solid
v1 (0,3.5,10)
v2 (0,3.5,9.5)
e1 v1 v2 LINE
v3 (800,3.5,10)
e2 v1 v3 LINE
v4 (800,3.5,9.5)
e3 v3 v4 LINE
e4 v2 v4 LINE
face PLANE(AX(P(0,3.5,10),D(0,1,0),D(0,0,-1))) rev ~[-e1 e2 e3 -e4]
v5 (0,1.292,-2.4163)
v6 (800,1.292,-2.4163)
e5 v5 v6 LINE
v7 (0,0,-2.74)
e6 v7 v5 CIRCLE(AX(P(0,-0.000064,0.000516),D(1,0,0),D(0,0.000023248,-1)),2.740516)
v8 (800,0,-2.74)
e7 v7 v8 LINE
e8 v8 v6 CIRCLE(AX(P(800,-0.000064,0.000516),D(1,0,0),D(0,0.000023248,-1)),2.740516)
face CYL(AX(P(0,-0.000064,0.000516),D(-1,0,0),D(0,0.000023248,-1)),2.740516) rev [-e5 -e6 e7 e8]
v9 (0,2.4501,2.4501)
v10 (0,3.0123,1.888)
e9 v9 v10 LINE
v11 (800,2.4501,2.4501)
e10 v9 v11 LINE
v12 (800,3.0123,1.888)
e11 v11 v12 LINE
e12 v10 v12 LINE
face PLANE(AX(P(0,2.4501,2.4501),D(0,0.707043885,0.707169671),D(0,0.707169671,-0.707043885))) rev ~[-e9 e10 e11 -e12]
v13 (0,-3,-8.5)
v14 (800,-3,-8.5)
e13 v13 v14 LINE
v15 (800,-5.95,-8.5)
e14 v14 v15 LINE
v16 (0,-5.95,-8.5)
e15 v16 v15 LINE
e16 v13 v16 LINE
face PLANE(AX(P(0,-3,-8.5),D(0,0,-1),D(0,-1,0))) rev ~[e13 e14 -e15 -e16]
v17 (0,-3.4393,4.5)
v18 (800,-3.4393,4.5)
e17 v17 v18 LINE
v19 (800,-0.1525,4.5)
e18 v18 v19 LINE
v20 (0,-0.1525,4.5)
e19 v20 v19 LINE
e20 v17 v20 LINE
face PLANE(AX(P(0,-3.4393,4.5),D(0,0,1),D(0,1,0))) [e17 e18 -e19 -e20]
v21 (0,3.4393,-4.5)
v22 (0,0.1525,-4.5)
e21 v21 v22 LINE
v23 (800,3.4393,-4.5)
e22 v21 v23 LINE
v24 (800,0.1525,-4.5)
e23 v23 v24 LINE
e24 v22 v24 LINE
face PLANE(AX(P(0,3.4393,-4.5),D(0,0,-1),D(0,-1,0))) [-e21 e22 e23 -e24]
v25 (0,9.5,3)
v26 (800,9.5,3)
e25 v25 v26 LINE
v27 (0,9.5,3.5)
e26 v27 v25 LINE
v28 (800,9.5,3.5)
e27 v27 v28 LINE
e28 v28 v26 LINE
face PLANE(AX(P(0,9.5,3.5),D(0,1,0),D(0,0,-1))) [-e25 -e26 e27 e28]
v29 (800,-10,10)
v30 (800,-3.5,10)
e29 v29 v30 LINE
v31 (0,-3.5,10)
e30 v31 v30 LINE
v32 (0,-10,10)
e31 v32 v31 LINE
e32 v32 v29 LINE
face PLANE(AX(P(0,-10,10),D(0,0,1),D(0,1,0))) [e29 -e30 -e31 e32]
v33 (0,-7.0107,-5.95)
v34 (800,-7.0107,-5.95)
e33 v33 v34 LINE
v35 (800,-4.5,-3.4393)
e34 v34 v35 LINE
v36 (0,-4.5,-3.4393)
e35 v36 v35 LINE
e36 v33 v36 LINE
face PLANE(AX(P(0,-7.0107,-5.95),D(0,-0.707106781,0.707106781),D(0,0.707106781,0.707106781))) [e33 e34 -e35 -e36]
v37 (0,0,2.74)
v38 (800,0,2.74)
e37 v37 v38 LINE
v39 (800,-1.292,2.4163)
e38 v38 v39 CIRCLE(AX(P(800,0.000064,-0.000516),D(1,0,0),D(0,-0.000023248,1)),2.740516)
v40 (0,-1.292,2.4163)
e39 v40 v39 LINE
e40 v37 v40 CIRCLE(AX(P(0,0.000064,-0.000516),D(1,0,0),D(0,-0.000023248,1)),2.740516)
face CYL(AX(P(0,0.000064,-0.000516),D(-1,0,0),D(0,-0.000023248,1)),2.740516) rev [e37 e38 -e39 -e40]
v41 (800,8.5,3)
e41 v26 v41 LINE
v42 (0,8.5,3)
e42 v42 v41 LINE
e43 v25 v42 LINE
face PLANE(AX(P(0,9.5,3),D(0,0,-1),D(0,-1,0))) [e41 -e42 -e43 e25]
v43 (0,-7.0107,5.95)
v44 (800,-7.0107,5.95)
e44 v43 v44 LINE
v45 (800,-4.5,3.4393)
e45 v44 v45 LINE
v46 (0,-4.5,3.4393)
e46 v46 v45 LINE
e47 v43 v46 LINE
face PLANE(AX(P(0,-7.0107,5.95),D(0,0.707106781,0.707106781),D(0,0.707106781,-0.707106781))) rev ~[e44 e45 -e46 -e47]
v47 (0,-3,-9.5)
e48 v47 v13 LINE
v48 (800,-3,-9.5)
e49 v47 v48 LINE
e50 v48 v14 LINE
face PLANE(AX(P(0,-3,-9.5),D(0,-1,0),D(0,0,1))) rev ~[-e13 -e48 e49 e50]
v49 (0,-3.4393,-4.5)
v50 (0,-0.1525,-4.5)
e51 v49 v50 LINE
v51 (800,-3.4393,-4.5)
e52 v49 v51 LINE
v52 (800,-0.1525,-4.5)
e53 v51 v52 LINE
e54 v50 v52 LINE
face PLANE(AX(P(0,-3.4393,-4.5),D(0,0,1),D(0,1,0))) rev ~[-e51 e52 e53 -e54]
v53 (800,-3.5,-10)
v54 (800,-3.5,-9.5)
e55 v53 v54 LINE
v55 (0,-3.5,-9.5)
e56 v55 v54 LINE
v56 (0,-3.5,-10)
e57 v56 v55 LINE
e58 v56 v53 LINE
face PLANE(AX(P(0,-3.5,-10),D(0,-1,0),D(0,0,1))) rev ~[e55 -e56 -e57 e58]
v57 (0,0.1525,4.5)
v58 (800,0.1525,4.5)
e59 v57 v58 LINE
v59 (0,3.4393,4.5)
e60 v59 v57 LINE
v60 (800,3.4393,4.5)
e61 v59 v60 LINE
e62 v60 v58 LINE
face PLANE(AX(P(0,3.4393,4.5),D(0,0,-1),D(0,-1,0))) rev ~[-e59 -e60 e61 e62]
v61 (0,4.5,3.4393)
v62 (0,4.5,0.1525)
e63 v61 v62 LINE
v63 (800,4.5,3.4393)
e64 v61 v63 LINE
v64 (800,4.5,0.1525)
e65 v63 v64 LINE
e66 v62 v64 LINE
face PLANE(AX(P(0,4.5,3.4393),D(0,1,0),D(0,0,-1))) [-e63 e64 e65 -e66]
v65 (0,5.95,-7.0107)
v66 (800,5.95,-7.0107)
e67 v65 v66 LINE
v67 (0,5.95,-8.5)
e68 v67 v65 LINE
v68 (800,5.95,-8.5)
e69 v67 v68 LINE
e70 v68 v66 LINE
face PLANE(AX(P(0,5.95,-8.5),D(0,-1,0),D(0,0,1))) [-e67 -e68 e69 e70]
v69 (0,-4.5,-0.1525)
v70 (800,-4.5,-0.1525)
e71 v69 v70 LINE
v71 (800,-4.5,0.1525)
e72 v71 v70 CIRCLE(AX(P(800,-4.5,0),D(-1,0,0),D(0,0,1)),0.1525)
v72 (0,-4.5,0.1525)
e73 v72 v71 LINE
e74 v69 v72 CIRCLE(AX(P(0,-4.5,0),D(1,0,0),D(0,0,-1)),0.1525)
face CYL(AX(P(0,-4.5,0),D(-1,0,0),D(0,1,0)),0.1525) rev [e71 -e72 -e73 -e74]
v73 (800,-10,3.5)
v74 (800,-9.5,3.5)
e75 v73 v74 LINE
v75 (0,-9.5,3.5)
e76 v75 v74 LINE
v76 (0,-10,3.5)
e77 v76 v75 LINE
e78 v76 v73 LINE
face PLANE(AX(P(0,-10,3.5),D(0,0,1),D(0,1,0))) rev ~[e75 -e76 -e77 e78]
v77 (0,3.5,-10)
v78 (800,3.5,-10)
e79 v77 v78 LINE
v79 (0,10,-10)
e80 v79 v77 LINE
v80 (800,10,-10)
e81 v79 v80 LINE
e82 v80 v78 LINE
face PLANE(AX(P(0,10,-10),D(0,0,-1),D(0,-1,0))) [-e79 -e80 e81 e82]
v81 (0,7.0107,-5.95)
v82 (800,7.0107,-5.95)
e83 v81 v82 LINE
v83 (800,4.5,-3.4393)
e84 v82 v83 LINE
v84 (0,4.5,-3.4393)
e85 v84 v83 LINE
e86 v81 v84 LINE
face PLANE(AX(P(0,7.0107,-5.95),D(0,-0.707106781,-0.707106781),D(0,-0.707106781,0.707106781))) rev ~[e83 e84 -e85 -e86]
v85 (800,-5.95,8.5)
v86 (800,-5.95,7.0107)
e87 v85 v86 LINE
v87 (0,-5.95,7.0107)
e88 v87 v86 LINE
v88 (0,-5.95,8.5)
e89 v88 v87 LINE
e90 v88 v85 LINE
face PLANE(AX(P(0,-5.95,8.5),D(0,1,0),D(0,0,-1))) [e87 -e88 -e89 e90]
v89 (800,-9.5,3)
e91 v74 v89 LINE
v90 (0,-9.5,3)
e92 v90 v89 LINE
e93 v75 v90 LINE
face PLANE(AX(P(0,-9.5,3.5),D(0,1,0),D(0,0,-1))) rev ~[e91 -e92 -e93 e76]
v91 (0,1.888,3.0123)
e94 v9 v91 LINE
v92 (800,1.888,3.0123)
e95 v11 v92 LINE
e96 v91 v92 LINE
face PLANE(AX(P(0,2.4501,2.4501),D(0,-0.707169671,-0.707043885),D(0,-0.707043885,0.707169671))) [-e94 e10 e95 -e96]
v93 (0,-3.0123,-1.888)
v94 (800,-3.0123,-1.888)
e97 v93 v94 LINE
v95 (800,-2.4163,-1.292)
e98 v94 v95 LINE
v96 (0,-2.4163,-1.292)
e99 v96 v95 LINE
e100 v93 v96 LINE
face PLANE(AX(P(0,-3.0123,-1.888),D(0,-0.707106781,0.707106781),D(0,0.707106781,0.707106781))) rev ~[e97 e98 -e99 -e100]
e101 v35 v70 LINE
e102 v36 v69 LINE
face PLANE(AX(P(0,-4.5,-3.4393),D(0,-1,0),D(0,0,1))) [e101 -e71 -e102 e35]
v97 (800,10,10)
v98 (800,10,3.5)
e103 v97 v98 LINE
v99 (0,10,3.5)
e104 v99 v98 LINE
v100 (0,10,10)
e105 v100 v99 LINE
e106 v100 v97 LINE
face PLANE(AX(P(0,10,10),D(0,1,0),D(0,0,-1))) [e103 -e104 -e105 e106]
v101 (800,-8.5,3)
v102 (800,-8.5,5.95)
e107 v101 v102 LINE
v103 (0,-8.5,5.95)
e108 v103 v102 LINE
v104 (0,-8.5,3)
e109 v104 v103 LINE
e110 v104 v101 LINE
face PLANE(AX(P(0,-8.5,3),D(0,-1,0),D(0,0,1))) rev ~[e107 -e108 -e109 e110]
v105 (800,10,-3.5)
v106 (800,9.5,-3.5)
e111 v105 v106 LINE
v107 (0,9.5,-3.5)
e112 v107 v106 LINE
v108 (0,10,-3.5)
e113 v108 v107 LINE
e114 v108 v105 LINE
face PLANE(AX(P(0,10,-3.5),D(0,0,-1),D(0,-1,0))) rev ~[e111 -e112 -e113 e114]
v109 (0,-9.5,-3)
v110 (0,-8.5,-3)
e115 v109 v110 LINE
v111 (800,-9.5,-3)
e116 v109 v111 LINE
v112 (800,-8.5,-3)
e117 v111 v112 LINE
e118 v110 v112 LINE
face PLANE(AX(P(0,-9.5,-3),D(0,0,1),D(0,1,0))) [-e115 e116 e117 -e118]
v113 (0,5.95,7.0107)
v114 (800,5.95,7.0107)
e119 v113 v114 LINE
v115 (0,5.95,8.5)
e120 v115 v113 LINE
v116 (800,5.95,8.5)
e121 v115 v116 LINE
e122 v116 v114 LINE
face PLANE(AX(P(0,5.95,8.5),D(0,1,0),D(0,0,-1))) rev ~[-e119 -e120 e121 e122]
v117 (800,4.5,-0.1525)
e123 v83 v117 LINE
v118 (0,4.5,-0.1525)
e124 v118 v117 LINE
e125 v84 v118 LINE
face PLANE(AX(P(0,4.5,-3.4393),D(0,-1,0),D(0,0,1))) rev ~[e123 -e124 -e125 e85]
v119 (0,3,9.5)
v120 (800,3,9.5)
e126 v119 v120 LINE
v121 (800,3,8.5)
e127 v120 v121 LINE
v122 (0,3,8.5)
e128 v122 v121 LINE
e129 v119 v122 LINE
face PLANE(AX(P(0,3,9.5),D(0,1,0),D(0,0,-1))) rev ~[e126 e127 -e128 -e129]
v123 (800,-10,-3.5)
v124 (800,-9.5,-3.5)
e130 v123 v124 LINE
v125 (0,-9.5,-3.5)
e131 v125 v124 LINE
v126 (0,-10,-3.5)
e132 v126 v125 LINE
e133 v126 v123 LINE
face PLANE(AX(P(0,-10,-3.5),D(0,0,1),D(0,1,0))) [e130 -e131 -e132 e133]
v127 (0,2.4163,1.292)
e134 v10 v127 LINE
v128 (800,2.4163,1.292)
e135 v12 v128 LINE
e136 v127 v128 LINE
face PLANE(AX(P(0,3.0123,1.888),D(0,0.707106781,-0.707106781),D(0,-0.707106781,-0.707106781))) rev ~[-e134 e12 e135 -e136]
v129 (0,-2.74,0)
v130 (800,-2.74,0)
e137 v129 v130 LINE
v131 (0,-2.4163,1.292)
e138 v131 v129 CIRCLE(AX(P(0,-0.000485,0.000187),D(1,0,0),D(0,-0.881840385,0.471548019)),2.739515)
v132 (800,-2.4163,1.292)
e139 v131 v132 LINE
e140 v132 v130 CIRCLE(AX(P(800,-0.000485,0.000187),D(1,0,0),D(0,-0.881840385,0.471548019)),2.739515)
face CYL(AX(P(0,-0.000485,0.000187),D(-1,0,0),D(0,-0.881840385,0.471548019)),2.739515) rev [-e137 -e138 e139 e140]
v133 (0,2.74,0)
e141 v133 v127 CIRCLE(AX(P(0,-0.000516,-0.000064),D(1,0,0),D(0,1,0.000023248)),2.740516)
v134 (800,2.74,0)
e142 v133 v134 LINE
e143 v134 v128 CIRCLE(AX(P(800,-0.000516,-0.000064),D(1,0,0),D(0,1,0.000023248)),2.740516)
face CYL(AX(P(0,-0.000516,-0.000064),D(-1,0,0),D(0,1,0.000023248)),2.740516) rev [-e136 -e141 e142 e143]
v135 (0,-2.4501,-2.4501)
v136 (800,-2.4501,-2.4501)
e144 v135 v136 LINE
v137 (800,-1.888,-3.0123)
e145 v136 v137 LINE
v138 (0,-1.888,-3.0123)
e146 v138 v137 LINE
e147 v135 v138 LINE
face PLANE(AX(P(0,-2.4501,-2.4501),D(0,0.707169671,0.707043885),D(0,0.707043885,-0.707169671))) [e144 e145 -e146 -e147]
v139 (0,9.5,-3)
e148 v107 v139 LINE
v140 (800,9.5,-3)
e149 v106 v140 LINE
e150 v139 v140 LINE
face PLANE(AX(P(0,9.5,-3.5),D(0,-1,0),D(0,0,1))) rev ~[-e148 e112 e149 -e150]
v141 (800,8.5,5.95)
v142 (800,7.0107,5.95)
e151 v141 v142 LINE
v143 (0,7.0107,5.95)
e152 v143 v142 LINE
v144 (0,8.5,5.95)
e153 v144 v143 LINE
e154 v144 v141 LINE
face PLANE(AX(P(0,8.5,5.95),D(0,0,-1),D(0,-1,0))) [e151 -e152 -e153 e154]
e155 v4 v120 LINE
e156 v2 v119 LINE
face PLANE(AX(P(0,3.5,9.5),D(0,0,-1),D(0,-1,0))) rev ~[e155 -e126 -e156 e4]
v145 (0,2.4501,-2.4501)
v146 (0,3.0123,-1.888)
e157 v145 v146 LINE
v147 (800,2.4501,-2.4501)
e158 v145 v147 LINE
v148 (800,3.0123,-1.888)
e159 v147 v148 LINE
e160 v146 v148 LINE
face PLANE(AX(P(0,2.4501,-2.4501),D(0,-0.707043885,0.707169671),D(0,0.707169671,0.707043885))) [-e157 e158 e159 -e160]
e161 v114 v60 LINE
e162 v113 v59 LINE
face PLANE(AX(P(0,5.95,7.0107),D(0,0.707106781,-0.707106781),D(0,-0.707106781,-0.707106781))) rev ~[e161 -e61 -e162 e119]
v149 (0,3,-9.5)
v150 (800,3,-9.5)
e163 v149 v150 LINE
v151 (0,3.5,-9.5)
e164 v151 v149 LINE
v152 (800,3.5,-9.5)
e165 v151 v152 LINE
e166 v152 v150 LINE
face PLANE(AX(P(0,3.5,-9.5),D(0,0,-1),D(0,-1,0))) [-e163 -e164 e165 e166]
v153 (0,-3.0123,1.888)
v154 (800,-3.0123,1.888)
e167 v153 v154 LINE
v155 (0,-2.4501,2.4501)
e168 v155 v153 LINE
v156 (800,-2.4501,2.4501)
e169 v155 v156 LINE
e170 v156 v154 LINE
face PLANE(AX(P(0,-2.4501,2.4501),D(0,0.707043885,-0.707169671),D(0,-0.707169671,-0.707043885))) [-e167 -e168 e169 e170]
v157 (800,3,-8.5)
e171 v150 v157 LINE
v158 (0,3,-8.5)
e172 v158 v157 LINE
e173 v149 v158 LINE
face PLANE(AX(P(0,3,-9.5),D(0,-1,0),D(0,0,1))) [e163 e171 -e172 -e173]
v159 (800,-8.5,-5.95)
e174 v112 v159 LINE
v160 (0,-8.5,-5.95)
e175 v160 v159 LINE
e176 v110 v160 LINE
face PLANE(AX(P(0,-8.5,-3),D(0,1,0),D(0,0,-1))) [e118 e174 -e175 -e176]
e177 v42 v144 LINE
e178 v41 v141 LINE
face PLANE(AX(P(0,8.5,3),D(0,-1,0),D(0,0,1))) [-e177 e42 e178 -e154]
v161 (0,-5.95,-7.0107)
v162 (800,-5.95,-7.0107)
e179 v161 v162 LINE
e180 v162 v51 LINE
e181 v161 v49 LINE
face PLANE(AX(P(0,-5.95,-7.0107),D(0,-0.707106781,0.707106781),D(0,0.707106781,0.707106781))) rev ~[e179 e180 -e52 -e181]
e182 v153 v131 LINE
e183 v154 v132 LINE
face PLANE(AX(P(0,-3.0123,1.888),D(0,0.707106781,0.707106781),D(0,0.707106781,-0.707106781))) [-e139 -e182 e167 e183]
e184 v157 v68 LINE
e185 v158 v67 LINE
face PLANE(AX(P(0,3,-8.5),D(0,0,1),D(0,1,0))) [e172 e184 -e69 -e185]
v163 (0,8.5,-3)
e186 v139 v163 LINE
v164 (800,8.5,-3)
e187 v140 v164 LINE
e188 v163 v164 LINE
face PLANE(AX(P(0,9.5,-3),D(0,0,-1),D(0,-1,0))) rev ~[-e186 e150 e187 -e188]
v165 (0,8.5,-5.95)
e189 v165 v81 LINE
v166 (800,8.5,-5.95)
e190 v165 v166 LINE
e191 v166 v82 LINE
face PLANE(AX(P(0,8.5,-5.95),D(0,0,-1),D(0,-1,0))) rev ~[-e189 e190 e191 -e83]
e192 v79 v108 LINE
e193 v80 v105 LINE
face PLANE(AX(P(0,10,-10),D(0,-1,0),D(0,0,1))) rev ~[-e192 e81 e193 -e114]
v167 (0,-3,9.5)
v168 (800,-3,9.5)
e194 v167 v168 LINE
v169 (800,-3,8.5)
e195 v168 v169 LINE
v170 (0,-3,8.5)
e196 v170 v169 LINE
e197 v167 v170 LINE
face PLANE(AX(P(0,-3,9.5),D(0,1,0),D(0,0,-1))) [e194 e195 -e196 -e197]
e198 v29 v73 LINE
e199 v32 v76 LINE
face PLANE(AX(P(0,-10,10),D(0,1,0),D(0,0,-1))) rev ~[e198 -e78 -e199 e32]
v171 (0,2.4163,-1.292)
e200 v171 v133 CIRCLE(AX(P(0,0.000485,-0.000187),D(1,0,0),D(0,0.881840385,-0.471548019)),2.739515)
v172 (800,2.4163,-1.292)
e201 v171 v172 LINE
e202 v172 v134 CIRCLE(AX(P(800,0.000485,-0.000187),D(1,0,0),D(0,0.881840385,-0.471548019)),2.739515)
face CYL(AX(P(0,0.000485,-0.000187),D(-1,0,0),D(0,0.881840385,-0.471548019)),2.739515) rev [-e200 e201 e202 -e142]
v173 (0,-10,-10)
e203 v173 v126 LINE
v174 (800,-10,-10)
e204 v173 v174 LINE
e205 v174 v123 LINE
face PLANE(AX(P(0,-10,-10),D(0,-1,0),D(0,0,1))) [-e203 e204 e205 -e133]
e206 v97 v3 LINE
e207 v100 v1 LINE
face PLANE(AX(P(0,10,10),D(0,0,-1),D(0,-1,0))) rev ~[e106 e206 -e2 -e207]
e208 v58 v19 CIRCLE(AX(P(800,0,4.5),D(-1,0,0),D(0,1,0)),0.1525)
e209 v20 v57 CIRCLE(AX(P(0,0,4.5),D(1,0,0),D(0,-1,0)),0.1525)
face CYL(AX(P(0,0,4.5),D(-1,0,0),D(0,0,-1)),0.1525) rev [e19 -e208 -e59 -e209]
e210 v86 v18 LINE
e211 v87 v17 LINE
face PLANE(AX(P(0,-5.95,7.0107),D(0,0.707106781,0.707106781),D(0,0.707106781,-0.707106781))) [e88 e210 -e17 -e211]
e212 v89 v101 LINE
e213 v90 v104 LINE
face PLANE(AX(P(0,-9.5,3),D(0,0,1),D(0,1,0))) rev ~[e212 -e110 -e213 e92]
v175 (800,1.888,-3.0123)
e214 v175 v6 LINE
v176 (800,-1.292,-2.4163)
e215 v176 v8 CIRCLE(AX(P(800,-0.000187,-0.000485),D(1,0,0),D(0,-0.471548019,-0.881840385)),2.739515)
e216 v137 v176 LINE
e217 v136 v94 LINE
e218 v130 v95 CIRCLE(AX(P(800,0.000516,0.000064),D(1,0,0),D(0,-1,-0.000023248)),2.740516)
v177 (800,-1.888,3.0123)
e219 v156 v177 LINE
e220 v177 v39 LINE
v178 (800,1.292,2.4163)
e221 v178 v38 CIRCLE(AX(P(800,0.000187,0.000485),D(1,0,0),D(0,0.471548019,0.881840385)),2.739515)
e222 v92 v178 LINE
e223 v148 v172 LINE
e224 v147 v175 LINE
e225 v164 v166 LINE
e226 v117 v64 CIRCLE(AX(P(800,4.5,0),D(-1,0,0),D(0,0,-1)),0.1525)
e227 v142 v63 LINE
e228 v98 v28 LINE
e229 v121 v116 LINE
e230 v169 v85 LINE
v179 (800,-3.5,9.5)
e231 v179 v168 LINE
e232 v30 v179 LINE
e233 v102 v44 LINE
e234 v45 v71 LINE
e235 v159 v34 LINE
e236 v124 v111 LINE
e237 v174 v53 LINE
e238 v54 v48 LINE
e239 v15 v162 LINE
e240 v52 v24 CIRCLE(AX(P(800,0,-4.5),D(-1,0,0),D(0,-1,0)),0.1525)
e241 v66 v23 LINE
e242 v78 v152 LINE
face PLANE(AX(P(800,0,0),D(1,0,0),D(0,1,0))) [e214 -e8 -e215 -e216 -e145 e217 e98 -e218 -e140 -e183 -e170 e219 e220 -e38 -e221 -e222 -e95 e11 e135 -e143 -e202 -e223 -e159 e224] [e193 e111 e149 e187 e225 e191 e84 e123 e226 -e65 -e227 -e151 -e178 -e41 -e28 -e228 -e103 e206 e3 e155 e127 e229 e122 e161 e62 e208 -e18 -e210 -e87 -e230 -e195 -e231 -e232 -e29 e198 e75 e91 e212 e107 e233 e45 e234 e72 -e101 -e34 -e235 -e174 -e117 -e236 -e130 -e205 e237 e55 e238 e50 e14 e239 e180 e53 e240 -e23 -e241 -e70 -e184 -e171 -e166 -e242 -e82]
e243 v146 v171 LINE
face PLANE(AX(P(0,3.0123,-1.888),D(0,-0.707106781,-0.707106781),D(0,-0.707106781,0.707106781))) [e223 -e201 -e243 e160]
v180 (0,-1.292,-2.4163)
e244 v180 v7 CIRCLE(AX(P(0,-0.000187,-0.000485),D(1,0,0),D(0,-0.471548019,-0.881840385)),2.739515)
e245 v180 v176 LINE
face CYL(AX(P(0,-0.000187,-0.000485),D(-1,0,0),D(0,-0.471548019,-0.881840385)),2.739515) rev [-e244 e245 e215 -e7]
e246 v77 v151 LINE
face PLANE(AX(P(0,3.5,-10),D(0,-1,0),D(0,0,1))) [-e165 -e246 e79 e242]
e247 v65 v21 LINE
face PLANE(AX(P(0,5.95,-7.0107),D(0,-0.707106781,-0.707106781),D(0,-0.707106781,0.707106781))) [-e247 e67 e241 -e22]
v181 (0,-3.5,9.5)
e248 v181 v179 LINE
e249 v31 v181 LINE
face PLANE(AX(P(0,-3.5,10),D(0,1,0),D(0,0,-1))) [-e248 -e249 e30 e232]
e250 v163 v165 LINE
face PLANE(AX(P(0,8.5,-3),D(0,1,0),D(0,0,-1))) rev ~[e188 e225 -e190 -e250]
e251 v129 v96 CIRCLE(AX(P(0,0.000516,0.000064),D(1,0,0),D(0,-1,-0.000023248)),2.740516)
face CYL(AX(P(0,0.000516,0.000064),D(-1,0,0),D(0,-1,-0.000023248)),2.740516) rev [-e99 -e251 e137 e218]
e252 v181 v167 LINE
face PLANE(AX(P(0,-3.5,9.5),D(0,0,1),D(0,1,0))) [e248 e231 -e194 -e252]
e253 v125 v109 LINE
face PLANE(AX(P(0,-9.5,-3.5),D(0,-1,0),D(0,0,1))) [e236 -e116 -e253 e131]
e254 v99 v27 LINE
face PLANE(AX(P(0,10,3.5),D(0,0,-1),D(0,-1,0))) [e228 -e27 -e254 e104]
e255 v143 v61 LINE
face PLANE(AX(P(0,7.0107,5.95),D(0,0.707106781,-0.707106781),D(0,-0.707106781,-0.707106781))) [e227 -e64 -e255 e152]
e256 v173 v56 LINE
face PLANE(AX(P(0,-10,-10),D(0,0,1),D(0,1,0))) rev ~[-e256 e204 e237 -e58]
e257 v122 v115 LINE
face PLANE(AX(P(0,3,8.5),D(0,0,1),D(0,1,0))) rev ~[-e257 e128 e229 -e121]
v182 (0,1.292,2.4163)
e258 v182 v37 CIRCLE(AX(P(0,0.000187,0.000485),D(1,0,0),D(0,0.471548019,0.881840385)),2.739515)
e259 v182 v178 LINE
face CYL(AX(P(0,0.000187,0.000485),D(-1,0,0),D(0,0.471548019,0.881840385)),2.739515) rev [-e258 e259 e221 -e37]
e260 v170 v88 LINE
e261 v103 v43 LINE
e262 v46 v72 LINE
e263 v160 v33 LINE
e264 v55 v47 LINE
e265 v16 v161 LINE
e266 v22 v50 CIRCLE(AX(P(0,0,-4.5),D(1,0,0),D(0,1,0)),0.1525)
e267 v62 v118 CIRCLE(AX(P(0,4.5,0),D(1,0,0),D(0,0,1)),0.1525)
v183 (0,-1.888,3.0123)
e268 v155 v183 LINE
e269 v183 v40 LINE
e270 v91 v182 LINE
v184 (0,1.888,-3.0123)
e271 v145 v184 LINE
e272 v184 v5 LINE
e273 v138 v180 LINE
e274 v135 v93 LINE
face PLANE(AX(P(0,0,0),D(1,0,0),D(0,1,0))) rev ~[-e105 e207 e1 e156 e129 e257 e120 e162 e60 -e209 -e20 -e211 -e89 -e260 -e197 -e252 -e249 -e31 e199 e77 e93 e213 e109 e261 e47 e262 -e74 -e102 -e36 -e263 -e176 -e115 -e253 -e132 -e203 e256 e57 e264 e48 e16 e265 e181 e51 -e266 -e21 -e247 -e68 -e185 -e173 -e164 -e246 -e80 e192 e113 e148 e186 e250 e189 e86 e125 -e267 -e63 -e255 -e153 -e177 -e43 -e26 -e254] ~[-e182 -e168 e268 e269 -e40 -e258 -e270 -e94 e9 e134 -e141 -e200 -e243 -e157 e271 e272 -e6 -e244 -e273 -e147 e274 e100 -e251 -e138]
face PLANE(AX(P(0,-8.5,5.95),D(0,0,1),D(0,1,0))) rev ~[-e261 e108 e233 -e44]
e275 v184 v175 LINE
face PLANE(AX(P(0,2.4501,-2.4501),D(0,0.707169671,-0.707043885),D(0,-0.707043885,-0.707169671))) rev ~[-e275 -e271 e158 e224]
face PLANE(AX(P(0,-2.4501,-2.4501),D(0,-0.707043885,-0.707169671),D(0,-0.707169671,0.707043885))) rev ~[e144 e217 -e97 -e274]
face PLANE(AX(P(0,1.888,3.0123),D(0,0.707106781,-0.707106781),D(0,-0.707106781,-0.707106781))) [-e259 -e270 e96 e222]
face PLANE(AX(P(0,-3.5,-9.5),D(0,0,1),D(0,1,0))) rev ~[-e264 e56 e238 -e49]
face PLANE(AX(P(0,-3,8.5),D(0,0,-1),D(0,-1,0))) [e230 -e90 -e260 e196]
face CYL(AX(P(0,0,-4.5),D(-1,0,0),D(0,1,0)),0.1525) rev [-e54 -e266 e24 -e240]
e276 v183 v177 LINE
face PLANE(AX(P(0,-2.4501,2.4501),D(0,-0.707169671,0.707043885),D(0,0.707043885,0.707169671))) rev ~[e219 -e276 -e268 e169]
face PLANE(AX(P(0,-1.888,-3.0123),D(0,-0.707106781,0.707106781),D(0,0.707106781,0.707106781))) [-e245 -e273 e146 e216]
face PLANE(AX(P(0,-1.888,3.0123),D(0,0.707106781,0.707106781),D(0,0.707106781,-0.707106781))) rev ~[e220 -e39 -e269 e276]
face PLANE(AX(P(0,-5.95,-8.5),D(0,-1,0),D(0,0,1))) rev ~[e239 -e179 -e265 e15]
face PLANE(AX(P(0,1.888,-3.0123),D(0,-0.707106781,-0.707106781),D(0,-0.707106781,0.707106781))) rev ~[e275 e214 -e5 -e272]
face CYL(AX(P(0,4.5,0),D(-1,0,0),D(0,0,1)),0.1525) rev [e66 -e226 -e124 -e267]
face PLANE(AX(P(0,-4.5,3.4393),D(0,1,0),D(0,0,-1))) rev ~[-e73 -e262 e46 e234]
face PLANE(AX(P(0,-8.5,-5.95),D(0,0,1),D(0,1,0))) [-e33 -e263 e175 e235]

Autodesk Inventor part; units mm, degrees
ref_plane "YZ Plane" through (0, 0, 0) normal (1, 0, 0) x (0, 1, 0)
ref_plane "XZ Plane" through (0, 0, 0) normal (0, 1, 0) x (-1, 0, 0)
ref_plane "XY Plane" through (0, 0, 0) normal (0, 0, 1) x (1, 0, 0)
sketch "Sketch1" plane through (0, 0, 0) normal (1, 0, 0) x (0, 1, 0)
  line L0 (-10, -10) -> (10, 10) construction
  line L1 (10, 10) -> (10, 3.5)
  line L2 (10, 3.5) -> (9.5, 3.5)
  line L3 (9.5, 3.5) -> (9.5, 3)
  line L4 (9.5, 3) -> (8.5, 3)
  line L5 (8.5, 3) -> (8.5, 5.95)
  line L6 (8.5, 5.95) -> (7.0107, 5.95)
  line L7 (7.0107, 5.95) -> (4.5, 3.4393)
  line L8 (4.5, 3.4393) -> (4.5, 0.1525)
  line L9 (2.4501, 2.4501) -> (3.0123, 1.888)
  line L10 (3.0123, 1.888) -> (2.4163, 1.292)
  arc A0 (2.74, 0) -> (2.4163, 1.292) centre (0, 0) ccw
  arc A1 (4.5, 0.1525) -> (4.3475, 0) centre (4.5, 0) ccw
  line L11 (10, 10) -> (2.4501, 2.4501)
  line L12 (4.3475, 0) -> (2.74, 0)
  line L13 (0, 0) -> (2.74, 0) construction
  line L14 (10, 10) -> (3.5, 10)
  line L15 (3.5, 10) -> (3.5, 9.5)
  line L16 (3.5, 9.5) -> (3, 9.5)
  line L17 (3, 9.5) -> (3, 8.5)
  line L18 (3, 8.5) -> (5.95, 8.5)
  line L19 (5.95, 8.5) -> (5.95, 7.0107)
  line L20 (5.95, 7.0107) -> (3.4393, 4.5)
  line L21 (3.4393, 4.5) -> (0.1525, 4.5)
  line L22 (2.4501, 2.4501) -> (1.888, 3.0123)
  line L23 (1.888, 3.0123) -> (1.292, 2.4163)
  arc A2 (1.292, 2.4163) -> (0, 2.74) centre (0, 0) ccw
  arc A3 (0, 4.3475) -> (0.1525, 4.5) centre (0, 4.5) ccw
  line L24 (0, 4.3475) -> (0, 2.74)
  line L25 (0, 0) -> (0, 2.74) construction
  line L26 (-8.5, 5.95) -> (-7.0107, 5.95)
  line L27 (-10, 3.5) -> (-9.5, 3.5)
  line L28 (-8.5, 3) -> (-8.5, 5.95)
  line L29 (-9.5, 3.5) -> (-9.5, 3)
  line L30 (-9.5, 3) -> (-8.5, 3)
  line L31 (-5.95, 8.5) -> (-5.95, 7.0107)
  line L32 (-7.0107, 5.95) -> (-4.5, 3.4393)
  line L33 (-5.95, 7.0107) -> (-3.4393, 4.5)
  line L34 (-10, 10) -> (-10, 3.5)
  line L35 (-10, 10) -> (-3.5, 10)
  line L36 (-10, 10) -> (-2.4501, 2.4501)
  line L37 (-3, 8.5) -> (-5.95, 8.5)
  line L38 (-3, 9.5) -> (-3, 8.5)
  line L39 (-3.5, 10) -> (-3.5, 9.5)
  line L40 (-3.5, 9.5) -> (-3, 9.5)
  line L41 (-3.4393, 4.5) -> (-0.1525, 4.5)
  line L42 (-2.4501, 2.4501) -> (-1.888, 3.0123)
  line L43 (-1.888, 3.0123) -> (-1.292, 2.4163)
  arc A4 (0, 2.74) -> (-1.292, 2.4163) centre (0, 0) ccw
  arc A5 (-0.1525, 4.5) -> (0, 4.3475) centre (0, 4.5) ccw
  line L44 (-2.4501, 2.4501) -> (-3.0123, 1.888)
  line L45 (-4.5, 3.4393) -> (-4.5, 0.1525)
  arc A6 (-4.3475, 0) -> (-4.5, 0.1525) centre (-4.5, 0) ccw
  line L46 (0, 4.3475) -> (0, 2.74)
  line L47 (-4.3475, 0) -> (-2.74, 0)
  arc A7 (-2.4163, 1.292) -> (-2.74, 0) centre (0, 0) ccw
  line L48 (0, 0) -> (0, 2.74) construction
  line L49 (-3.0123, 1.888) -> (-2.4163, 1.292)
  line L50 (-5.95, -8.5) -> (-5.95, -7.0107)
  line L51 (-3.5, -10) -> (-3.5, -9.5)
  line L52 (-3, -8.5) -> (-5.95, -8.5)
  line L53 (-3.5, -9.5) -> (-3, -9.5)
  line L54 (-3, -9.5) -> (-3, -8.5)
  line L55 (-8.5, -5.95) -> (-7.0107, -5.95)
  line L56 (-5.95, -7.0107) -> (-3.4393, -4.5)
  line L57 (-7.0107, -5.95) -> (-4.5, -3.4393)
  line L58 (-10, -10) -> (-3.5, -10)
  line L59 (-10, -10) -> (-10, -3.5)
  line L60 (-10, -10) -> (-2.4501, -2.4501)
  line L61 (-8.5, -3) -> (-8.5, -5.95)
  line L62 (-9.5, -3) -> (-8.5, -3)
  line L63 (-10, -3.5) -> (-9.5, -3.5)
  line L64 (-9.5, -3.5) -> (-9.5, -3)
  line L65 (-4.5, -3.4393) -> (-4.5, -0.1525)
  line L66 (-2.4501, -2.4501) -> (-3.0123, -1.888)
  line L67 (-3.0123, -1.888) -> (-2.4163, -1.292)
  arc A8 (-2.74, 0) -> (-2.4163, -1.292) centre (0, 0) ccw
  arc A9 (-4.5, -0.1525) -> (-4.3475, 0) centre (-4.5, 0) ccw
  line L68 (-2.4501, -2.4501) -> (-1.888, -3.0123)
  line L69 (-3.4393, -4.5) -> (-0.1525, -4.5)
  arc A10 (0, -4.3475) -> (-0.1525, -4.5) centre (0, -4.5) ccw
  line L70 (-4.3475, 0) -> (-2.74, 0)
  line L71 (0, -4.3475) -> (0, -2.74)
  arc A11 (-1.292, -2.4163) -> (0, -2.74) centre (0, 0) ccw
  line L72 (0, 0) -> (-2.74, 0) construction
  line L73 (-1.888, -3.0123) -> (-1.292, -2.4163)
  line L74 (8.5, -5.95) -> (7.0107, -5.95)
  line L75 (10, -3.5) -> (9.5, -3.5)
  line L76 (8.5, -3) -> (8.5, -5.95)
  line L77 (9.5, -3.5) -> (9.5, -3)
  line L78 (9.5, -3) -> (8.5, -3)
  line L79 (5.95, -8.5) -> (5.95, -7.0107)
  line L80 (7.0107, -5.95) -> (4.5, -3.4393)
  line L81 (5.95, -7.0107) -> (3.4393, -4.5)
  line L82 (10, -10) -> (10, -3.5)
  line L83 (10, -10) -> (3.5, -10)
  line L84 (10, -10) -> (2.4501, -2.4501)
  line L85 (3, -8.5) -> (5.95, -8.5)
  line L86 (3, -9.5) -> (3, -8.5)
  line L87 (3.5, -10) -> (3.5, -9.5)
  line L88 (3.5, -9.5) -> (3, -9.5)
  line L89 (3.4393, -4.5) -> (0.1525, -4.5)
  line L90 (2.4501, -2.4501) -> (1.888, -3.0123)
  line L91 (1.888, -3.0123) -> (1.292, -2.4163)
  arc A12 (0, -2.74) -> (1.292, -2.4163) centre (0, 0) ccw
  arc A13 (0.1525, -4.5) -> (0, -4.3475) centre (0, -4.5) ccw
  line L92 (2.4501, -2.4501) -> (3.0123, -1.888)
  line L93 (4.5, -3.4393) -> (4.5, -0.1525)
  arc A14 (4.3475, 0) -> (4.5, -0.1525) centre (4.5, 0) ccw
  line L94 (0, -4.3475) -> (0, -2.74)
  line L95 (4.3475, 0) -> (2.74, 0)
  arc A15 (2.4163, -1.292) -> (2.74, 0) centre (0, 0) ccw
  line L96 (0, 0) -> (0, -2.74) construction
  line L97 (3.0123, -1.888) -> (2.4163, -1.292)
  point P0 (9, 3)
  point P1 (3, 9)
  point P2 (-9, 3)
  point P3 (-3, 9)
  point P4 (-3, -9)
  point P5 (-9, -3)
  point P6 (9, -3)
  point P7 (3, -9)
  dimension "d2" = 6.5
  dimension "d3" = 0.5
  dimension "d4" = 4
  dimension "d5" = 3.465
  dimension "d6" = 5.48
  dimension "d7" = 0.795
  dimension "d8" = 0.305
  dimension "d9" = 2.95
  dimension "d11" = 0.75
  dimension "d14" = 45
  dimension "d15" = 10
  dimension "d16" = 1
  dimension "d17" = 3
  dimension "d18" = 45
  dimension "d21" = 360
extrude "Extrusion1" add sketch "Sketch1" along normal blind 800 contours L1 L2 L3 L4 L5 L6 L7 L8 A1 L12 A0 L10 L9 L11 | L11 L22 L23 A2 L24 A3 L21 L20 L19 L18 L17 L16 L15 L14 | L12 A14 L93 L80 L74 L76 L78 L77 L75 L82 L84 L92 L97 A15 | A4 L43 L42 L36 L35 L39 L40 L38 L37 L31 L33 L41 A5 L24 | L84 L83 L87 L88 L86 L85 L79 L81 L89 A13 L71 A12 L91 L90 | L44 L49 A7 L47 A6 L45 L32 L26 L28 L30 L29 L27 L34 L36 | L71 A10 L69 L56 L50 L52 L54 L53 L51 L58 L60 L68 L73 A11 | A8 L67 L66 L60 L59 L63 L64 L62 L61 L55 L57 L65 A9 L47
properties part number "20mm Extrusion 500mm" material "Aluminum 6061"
